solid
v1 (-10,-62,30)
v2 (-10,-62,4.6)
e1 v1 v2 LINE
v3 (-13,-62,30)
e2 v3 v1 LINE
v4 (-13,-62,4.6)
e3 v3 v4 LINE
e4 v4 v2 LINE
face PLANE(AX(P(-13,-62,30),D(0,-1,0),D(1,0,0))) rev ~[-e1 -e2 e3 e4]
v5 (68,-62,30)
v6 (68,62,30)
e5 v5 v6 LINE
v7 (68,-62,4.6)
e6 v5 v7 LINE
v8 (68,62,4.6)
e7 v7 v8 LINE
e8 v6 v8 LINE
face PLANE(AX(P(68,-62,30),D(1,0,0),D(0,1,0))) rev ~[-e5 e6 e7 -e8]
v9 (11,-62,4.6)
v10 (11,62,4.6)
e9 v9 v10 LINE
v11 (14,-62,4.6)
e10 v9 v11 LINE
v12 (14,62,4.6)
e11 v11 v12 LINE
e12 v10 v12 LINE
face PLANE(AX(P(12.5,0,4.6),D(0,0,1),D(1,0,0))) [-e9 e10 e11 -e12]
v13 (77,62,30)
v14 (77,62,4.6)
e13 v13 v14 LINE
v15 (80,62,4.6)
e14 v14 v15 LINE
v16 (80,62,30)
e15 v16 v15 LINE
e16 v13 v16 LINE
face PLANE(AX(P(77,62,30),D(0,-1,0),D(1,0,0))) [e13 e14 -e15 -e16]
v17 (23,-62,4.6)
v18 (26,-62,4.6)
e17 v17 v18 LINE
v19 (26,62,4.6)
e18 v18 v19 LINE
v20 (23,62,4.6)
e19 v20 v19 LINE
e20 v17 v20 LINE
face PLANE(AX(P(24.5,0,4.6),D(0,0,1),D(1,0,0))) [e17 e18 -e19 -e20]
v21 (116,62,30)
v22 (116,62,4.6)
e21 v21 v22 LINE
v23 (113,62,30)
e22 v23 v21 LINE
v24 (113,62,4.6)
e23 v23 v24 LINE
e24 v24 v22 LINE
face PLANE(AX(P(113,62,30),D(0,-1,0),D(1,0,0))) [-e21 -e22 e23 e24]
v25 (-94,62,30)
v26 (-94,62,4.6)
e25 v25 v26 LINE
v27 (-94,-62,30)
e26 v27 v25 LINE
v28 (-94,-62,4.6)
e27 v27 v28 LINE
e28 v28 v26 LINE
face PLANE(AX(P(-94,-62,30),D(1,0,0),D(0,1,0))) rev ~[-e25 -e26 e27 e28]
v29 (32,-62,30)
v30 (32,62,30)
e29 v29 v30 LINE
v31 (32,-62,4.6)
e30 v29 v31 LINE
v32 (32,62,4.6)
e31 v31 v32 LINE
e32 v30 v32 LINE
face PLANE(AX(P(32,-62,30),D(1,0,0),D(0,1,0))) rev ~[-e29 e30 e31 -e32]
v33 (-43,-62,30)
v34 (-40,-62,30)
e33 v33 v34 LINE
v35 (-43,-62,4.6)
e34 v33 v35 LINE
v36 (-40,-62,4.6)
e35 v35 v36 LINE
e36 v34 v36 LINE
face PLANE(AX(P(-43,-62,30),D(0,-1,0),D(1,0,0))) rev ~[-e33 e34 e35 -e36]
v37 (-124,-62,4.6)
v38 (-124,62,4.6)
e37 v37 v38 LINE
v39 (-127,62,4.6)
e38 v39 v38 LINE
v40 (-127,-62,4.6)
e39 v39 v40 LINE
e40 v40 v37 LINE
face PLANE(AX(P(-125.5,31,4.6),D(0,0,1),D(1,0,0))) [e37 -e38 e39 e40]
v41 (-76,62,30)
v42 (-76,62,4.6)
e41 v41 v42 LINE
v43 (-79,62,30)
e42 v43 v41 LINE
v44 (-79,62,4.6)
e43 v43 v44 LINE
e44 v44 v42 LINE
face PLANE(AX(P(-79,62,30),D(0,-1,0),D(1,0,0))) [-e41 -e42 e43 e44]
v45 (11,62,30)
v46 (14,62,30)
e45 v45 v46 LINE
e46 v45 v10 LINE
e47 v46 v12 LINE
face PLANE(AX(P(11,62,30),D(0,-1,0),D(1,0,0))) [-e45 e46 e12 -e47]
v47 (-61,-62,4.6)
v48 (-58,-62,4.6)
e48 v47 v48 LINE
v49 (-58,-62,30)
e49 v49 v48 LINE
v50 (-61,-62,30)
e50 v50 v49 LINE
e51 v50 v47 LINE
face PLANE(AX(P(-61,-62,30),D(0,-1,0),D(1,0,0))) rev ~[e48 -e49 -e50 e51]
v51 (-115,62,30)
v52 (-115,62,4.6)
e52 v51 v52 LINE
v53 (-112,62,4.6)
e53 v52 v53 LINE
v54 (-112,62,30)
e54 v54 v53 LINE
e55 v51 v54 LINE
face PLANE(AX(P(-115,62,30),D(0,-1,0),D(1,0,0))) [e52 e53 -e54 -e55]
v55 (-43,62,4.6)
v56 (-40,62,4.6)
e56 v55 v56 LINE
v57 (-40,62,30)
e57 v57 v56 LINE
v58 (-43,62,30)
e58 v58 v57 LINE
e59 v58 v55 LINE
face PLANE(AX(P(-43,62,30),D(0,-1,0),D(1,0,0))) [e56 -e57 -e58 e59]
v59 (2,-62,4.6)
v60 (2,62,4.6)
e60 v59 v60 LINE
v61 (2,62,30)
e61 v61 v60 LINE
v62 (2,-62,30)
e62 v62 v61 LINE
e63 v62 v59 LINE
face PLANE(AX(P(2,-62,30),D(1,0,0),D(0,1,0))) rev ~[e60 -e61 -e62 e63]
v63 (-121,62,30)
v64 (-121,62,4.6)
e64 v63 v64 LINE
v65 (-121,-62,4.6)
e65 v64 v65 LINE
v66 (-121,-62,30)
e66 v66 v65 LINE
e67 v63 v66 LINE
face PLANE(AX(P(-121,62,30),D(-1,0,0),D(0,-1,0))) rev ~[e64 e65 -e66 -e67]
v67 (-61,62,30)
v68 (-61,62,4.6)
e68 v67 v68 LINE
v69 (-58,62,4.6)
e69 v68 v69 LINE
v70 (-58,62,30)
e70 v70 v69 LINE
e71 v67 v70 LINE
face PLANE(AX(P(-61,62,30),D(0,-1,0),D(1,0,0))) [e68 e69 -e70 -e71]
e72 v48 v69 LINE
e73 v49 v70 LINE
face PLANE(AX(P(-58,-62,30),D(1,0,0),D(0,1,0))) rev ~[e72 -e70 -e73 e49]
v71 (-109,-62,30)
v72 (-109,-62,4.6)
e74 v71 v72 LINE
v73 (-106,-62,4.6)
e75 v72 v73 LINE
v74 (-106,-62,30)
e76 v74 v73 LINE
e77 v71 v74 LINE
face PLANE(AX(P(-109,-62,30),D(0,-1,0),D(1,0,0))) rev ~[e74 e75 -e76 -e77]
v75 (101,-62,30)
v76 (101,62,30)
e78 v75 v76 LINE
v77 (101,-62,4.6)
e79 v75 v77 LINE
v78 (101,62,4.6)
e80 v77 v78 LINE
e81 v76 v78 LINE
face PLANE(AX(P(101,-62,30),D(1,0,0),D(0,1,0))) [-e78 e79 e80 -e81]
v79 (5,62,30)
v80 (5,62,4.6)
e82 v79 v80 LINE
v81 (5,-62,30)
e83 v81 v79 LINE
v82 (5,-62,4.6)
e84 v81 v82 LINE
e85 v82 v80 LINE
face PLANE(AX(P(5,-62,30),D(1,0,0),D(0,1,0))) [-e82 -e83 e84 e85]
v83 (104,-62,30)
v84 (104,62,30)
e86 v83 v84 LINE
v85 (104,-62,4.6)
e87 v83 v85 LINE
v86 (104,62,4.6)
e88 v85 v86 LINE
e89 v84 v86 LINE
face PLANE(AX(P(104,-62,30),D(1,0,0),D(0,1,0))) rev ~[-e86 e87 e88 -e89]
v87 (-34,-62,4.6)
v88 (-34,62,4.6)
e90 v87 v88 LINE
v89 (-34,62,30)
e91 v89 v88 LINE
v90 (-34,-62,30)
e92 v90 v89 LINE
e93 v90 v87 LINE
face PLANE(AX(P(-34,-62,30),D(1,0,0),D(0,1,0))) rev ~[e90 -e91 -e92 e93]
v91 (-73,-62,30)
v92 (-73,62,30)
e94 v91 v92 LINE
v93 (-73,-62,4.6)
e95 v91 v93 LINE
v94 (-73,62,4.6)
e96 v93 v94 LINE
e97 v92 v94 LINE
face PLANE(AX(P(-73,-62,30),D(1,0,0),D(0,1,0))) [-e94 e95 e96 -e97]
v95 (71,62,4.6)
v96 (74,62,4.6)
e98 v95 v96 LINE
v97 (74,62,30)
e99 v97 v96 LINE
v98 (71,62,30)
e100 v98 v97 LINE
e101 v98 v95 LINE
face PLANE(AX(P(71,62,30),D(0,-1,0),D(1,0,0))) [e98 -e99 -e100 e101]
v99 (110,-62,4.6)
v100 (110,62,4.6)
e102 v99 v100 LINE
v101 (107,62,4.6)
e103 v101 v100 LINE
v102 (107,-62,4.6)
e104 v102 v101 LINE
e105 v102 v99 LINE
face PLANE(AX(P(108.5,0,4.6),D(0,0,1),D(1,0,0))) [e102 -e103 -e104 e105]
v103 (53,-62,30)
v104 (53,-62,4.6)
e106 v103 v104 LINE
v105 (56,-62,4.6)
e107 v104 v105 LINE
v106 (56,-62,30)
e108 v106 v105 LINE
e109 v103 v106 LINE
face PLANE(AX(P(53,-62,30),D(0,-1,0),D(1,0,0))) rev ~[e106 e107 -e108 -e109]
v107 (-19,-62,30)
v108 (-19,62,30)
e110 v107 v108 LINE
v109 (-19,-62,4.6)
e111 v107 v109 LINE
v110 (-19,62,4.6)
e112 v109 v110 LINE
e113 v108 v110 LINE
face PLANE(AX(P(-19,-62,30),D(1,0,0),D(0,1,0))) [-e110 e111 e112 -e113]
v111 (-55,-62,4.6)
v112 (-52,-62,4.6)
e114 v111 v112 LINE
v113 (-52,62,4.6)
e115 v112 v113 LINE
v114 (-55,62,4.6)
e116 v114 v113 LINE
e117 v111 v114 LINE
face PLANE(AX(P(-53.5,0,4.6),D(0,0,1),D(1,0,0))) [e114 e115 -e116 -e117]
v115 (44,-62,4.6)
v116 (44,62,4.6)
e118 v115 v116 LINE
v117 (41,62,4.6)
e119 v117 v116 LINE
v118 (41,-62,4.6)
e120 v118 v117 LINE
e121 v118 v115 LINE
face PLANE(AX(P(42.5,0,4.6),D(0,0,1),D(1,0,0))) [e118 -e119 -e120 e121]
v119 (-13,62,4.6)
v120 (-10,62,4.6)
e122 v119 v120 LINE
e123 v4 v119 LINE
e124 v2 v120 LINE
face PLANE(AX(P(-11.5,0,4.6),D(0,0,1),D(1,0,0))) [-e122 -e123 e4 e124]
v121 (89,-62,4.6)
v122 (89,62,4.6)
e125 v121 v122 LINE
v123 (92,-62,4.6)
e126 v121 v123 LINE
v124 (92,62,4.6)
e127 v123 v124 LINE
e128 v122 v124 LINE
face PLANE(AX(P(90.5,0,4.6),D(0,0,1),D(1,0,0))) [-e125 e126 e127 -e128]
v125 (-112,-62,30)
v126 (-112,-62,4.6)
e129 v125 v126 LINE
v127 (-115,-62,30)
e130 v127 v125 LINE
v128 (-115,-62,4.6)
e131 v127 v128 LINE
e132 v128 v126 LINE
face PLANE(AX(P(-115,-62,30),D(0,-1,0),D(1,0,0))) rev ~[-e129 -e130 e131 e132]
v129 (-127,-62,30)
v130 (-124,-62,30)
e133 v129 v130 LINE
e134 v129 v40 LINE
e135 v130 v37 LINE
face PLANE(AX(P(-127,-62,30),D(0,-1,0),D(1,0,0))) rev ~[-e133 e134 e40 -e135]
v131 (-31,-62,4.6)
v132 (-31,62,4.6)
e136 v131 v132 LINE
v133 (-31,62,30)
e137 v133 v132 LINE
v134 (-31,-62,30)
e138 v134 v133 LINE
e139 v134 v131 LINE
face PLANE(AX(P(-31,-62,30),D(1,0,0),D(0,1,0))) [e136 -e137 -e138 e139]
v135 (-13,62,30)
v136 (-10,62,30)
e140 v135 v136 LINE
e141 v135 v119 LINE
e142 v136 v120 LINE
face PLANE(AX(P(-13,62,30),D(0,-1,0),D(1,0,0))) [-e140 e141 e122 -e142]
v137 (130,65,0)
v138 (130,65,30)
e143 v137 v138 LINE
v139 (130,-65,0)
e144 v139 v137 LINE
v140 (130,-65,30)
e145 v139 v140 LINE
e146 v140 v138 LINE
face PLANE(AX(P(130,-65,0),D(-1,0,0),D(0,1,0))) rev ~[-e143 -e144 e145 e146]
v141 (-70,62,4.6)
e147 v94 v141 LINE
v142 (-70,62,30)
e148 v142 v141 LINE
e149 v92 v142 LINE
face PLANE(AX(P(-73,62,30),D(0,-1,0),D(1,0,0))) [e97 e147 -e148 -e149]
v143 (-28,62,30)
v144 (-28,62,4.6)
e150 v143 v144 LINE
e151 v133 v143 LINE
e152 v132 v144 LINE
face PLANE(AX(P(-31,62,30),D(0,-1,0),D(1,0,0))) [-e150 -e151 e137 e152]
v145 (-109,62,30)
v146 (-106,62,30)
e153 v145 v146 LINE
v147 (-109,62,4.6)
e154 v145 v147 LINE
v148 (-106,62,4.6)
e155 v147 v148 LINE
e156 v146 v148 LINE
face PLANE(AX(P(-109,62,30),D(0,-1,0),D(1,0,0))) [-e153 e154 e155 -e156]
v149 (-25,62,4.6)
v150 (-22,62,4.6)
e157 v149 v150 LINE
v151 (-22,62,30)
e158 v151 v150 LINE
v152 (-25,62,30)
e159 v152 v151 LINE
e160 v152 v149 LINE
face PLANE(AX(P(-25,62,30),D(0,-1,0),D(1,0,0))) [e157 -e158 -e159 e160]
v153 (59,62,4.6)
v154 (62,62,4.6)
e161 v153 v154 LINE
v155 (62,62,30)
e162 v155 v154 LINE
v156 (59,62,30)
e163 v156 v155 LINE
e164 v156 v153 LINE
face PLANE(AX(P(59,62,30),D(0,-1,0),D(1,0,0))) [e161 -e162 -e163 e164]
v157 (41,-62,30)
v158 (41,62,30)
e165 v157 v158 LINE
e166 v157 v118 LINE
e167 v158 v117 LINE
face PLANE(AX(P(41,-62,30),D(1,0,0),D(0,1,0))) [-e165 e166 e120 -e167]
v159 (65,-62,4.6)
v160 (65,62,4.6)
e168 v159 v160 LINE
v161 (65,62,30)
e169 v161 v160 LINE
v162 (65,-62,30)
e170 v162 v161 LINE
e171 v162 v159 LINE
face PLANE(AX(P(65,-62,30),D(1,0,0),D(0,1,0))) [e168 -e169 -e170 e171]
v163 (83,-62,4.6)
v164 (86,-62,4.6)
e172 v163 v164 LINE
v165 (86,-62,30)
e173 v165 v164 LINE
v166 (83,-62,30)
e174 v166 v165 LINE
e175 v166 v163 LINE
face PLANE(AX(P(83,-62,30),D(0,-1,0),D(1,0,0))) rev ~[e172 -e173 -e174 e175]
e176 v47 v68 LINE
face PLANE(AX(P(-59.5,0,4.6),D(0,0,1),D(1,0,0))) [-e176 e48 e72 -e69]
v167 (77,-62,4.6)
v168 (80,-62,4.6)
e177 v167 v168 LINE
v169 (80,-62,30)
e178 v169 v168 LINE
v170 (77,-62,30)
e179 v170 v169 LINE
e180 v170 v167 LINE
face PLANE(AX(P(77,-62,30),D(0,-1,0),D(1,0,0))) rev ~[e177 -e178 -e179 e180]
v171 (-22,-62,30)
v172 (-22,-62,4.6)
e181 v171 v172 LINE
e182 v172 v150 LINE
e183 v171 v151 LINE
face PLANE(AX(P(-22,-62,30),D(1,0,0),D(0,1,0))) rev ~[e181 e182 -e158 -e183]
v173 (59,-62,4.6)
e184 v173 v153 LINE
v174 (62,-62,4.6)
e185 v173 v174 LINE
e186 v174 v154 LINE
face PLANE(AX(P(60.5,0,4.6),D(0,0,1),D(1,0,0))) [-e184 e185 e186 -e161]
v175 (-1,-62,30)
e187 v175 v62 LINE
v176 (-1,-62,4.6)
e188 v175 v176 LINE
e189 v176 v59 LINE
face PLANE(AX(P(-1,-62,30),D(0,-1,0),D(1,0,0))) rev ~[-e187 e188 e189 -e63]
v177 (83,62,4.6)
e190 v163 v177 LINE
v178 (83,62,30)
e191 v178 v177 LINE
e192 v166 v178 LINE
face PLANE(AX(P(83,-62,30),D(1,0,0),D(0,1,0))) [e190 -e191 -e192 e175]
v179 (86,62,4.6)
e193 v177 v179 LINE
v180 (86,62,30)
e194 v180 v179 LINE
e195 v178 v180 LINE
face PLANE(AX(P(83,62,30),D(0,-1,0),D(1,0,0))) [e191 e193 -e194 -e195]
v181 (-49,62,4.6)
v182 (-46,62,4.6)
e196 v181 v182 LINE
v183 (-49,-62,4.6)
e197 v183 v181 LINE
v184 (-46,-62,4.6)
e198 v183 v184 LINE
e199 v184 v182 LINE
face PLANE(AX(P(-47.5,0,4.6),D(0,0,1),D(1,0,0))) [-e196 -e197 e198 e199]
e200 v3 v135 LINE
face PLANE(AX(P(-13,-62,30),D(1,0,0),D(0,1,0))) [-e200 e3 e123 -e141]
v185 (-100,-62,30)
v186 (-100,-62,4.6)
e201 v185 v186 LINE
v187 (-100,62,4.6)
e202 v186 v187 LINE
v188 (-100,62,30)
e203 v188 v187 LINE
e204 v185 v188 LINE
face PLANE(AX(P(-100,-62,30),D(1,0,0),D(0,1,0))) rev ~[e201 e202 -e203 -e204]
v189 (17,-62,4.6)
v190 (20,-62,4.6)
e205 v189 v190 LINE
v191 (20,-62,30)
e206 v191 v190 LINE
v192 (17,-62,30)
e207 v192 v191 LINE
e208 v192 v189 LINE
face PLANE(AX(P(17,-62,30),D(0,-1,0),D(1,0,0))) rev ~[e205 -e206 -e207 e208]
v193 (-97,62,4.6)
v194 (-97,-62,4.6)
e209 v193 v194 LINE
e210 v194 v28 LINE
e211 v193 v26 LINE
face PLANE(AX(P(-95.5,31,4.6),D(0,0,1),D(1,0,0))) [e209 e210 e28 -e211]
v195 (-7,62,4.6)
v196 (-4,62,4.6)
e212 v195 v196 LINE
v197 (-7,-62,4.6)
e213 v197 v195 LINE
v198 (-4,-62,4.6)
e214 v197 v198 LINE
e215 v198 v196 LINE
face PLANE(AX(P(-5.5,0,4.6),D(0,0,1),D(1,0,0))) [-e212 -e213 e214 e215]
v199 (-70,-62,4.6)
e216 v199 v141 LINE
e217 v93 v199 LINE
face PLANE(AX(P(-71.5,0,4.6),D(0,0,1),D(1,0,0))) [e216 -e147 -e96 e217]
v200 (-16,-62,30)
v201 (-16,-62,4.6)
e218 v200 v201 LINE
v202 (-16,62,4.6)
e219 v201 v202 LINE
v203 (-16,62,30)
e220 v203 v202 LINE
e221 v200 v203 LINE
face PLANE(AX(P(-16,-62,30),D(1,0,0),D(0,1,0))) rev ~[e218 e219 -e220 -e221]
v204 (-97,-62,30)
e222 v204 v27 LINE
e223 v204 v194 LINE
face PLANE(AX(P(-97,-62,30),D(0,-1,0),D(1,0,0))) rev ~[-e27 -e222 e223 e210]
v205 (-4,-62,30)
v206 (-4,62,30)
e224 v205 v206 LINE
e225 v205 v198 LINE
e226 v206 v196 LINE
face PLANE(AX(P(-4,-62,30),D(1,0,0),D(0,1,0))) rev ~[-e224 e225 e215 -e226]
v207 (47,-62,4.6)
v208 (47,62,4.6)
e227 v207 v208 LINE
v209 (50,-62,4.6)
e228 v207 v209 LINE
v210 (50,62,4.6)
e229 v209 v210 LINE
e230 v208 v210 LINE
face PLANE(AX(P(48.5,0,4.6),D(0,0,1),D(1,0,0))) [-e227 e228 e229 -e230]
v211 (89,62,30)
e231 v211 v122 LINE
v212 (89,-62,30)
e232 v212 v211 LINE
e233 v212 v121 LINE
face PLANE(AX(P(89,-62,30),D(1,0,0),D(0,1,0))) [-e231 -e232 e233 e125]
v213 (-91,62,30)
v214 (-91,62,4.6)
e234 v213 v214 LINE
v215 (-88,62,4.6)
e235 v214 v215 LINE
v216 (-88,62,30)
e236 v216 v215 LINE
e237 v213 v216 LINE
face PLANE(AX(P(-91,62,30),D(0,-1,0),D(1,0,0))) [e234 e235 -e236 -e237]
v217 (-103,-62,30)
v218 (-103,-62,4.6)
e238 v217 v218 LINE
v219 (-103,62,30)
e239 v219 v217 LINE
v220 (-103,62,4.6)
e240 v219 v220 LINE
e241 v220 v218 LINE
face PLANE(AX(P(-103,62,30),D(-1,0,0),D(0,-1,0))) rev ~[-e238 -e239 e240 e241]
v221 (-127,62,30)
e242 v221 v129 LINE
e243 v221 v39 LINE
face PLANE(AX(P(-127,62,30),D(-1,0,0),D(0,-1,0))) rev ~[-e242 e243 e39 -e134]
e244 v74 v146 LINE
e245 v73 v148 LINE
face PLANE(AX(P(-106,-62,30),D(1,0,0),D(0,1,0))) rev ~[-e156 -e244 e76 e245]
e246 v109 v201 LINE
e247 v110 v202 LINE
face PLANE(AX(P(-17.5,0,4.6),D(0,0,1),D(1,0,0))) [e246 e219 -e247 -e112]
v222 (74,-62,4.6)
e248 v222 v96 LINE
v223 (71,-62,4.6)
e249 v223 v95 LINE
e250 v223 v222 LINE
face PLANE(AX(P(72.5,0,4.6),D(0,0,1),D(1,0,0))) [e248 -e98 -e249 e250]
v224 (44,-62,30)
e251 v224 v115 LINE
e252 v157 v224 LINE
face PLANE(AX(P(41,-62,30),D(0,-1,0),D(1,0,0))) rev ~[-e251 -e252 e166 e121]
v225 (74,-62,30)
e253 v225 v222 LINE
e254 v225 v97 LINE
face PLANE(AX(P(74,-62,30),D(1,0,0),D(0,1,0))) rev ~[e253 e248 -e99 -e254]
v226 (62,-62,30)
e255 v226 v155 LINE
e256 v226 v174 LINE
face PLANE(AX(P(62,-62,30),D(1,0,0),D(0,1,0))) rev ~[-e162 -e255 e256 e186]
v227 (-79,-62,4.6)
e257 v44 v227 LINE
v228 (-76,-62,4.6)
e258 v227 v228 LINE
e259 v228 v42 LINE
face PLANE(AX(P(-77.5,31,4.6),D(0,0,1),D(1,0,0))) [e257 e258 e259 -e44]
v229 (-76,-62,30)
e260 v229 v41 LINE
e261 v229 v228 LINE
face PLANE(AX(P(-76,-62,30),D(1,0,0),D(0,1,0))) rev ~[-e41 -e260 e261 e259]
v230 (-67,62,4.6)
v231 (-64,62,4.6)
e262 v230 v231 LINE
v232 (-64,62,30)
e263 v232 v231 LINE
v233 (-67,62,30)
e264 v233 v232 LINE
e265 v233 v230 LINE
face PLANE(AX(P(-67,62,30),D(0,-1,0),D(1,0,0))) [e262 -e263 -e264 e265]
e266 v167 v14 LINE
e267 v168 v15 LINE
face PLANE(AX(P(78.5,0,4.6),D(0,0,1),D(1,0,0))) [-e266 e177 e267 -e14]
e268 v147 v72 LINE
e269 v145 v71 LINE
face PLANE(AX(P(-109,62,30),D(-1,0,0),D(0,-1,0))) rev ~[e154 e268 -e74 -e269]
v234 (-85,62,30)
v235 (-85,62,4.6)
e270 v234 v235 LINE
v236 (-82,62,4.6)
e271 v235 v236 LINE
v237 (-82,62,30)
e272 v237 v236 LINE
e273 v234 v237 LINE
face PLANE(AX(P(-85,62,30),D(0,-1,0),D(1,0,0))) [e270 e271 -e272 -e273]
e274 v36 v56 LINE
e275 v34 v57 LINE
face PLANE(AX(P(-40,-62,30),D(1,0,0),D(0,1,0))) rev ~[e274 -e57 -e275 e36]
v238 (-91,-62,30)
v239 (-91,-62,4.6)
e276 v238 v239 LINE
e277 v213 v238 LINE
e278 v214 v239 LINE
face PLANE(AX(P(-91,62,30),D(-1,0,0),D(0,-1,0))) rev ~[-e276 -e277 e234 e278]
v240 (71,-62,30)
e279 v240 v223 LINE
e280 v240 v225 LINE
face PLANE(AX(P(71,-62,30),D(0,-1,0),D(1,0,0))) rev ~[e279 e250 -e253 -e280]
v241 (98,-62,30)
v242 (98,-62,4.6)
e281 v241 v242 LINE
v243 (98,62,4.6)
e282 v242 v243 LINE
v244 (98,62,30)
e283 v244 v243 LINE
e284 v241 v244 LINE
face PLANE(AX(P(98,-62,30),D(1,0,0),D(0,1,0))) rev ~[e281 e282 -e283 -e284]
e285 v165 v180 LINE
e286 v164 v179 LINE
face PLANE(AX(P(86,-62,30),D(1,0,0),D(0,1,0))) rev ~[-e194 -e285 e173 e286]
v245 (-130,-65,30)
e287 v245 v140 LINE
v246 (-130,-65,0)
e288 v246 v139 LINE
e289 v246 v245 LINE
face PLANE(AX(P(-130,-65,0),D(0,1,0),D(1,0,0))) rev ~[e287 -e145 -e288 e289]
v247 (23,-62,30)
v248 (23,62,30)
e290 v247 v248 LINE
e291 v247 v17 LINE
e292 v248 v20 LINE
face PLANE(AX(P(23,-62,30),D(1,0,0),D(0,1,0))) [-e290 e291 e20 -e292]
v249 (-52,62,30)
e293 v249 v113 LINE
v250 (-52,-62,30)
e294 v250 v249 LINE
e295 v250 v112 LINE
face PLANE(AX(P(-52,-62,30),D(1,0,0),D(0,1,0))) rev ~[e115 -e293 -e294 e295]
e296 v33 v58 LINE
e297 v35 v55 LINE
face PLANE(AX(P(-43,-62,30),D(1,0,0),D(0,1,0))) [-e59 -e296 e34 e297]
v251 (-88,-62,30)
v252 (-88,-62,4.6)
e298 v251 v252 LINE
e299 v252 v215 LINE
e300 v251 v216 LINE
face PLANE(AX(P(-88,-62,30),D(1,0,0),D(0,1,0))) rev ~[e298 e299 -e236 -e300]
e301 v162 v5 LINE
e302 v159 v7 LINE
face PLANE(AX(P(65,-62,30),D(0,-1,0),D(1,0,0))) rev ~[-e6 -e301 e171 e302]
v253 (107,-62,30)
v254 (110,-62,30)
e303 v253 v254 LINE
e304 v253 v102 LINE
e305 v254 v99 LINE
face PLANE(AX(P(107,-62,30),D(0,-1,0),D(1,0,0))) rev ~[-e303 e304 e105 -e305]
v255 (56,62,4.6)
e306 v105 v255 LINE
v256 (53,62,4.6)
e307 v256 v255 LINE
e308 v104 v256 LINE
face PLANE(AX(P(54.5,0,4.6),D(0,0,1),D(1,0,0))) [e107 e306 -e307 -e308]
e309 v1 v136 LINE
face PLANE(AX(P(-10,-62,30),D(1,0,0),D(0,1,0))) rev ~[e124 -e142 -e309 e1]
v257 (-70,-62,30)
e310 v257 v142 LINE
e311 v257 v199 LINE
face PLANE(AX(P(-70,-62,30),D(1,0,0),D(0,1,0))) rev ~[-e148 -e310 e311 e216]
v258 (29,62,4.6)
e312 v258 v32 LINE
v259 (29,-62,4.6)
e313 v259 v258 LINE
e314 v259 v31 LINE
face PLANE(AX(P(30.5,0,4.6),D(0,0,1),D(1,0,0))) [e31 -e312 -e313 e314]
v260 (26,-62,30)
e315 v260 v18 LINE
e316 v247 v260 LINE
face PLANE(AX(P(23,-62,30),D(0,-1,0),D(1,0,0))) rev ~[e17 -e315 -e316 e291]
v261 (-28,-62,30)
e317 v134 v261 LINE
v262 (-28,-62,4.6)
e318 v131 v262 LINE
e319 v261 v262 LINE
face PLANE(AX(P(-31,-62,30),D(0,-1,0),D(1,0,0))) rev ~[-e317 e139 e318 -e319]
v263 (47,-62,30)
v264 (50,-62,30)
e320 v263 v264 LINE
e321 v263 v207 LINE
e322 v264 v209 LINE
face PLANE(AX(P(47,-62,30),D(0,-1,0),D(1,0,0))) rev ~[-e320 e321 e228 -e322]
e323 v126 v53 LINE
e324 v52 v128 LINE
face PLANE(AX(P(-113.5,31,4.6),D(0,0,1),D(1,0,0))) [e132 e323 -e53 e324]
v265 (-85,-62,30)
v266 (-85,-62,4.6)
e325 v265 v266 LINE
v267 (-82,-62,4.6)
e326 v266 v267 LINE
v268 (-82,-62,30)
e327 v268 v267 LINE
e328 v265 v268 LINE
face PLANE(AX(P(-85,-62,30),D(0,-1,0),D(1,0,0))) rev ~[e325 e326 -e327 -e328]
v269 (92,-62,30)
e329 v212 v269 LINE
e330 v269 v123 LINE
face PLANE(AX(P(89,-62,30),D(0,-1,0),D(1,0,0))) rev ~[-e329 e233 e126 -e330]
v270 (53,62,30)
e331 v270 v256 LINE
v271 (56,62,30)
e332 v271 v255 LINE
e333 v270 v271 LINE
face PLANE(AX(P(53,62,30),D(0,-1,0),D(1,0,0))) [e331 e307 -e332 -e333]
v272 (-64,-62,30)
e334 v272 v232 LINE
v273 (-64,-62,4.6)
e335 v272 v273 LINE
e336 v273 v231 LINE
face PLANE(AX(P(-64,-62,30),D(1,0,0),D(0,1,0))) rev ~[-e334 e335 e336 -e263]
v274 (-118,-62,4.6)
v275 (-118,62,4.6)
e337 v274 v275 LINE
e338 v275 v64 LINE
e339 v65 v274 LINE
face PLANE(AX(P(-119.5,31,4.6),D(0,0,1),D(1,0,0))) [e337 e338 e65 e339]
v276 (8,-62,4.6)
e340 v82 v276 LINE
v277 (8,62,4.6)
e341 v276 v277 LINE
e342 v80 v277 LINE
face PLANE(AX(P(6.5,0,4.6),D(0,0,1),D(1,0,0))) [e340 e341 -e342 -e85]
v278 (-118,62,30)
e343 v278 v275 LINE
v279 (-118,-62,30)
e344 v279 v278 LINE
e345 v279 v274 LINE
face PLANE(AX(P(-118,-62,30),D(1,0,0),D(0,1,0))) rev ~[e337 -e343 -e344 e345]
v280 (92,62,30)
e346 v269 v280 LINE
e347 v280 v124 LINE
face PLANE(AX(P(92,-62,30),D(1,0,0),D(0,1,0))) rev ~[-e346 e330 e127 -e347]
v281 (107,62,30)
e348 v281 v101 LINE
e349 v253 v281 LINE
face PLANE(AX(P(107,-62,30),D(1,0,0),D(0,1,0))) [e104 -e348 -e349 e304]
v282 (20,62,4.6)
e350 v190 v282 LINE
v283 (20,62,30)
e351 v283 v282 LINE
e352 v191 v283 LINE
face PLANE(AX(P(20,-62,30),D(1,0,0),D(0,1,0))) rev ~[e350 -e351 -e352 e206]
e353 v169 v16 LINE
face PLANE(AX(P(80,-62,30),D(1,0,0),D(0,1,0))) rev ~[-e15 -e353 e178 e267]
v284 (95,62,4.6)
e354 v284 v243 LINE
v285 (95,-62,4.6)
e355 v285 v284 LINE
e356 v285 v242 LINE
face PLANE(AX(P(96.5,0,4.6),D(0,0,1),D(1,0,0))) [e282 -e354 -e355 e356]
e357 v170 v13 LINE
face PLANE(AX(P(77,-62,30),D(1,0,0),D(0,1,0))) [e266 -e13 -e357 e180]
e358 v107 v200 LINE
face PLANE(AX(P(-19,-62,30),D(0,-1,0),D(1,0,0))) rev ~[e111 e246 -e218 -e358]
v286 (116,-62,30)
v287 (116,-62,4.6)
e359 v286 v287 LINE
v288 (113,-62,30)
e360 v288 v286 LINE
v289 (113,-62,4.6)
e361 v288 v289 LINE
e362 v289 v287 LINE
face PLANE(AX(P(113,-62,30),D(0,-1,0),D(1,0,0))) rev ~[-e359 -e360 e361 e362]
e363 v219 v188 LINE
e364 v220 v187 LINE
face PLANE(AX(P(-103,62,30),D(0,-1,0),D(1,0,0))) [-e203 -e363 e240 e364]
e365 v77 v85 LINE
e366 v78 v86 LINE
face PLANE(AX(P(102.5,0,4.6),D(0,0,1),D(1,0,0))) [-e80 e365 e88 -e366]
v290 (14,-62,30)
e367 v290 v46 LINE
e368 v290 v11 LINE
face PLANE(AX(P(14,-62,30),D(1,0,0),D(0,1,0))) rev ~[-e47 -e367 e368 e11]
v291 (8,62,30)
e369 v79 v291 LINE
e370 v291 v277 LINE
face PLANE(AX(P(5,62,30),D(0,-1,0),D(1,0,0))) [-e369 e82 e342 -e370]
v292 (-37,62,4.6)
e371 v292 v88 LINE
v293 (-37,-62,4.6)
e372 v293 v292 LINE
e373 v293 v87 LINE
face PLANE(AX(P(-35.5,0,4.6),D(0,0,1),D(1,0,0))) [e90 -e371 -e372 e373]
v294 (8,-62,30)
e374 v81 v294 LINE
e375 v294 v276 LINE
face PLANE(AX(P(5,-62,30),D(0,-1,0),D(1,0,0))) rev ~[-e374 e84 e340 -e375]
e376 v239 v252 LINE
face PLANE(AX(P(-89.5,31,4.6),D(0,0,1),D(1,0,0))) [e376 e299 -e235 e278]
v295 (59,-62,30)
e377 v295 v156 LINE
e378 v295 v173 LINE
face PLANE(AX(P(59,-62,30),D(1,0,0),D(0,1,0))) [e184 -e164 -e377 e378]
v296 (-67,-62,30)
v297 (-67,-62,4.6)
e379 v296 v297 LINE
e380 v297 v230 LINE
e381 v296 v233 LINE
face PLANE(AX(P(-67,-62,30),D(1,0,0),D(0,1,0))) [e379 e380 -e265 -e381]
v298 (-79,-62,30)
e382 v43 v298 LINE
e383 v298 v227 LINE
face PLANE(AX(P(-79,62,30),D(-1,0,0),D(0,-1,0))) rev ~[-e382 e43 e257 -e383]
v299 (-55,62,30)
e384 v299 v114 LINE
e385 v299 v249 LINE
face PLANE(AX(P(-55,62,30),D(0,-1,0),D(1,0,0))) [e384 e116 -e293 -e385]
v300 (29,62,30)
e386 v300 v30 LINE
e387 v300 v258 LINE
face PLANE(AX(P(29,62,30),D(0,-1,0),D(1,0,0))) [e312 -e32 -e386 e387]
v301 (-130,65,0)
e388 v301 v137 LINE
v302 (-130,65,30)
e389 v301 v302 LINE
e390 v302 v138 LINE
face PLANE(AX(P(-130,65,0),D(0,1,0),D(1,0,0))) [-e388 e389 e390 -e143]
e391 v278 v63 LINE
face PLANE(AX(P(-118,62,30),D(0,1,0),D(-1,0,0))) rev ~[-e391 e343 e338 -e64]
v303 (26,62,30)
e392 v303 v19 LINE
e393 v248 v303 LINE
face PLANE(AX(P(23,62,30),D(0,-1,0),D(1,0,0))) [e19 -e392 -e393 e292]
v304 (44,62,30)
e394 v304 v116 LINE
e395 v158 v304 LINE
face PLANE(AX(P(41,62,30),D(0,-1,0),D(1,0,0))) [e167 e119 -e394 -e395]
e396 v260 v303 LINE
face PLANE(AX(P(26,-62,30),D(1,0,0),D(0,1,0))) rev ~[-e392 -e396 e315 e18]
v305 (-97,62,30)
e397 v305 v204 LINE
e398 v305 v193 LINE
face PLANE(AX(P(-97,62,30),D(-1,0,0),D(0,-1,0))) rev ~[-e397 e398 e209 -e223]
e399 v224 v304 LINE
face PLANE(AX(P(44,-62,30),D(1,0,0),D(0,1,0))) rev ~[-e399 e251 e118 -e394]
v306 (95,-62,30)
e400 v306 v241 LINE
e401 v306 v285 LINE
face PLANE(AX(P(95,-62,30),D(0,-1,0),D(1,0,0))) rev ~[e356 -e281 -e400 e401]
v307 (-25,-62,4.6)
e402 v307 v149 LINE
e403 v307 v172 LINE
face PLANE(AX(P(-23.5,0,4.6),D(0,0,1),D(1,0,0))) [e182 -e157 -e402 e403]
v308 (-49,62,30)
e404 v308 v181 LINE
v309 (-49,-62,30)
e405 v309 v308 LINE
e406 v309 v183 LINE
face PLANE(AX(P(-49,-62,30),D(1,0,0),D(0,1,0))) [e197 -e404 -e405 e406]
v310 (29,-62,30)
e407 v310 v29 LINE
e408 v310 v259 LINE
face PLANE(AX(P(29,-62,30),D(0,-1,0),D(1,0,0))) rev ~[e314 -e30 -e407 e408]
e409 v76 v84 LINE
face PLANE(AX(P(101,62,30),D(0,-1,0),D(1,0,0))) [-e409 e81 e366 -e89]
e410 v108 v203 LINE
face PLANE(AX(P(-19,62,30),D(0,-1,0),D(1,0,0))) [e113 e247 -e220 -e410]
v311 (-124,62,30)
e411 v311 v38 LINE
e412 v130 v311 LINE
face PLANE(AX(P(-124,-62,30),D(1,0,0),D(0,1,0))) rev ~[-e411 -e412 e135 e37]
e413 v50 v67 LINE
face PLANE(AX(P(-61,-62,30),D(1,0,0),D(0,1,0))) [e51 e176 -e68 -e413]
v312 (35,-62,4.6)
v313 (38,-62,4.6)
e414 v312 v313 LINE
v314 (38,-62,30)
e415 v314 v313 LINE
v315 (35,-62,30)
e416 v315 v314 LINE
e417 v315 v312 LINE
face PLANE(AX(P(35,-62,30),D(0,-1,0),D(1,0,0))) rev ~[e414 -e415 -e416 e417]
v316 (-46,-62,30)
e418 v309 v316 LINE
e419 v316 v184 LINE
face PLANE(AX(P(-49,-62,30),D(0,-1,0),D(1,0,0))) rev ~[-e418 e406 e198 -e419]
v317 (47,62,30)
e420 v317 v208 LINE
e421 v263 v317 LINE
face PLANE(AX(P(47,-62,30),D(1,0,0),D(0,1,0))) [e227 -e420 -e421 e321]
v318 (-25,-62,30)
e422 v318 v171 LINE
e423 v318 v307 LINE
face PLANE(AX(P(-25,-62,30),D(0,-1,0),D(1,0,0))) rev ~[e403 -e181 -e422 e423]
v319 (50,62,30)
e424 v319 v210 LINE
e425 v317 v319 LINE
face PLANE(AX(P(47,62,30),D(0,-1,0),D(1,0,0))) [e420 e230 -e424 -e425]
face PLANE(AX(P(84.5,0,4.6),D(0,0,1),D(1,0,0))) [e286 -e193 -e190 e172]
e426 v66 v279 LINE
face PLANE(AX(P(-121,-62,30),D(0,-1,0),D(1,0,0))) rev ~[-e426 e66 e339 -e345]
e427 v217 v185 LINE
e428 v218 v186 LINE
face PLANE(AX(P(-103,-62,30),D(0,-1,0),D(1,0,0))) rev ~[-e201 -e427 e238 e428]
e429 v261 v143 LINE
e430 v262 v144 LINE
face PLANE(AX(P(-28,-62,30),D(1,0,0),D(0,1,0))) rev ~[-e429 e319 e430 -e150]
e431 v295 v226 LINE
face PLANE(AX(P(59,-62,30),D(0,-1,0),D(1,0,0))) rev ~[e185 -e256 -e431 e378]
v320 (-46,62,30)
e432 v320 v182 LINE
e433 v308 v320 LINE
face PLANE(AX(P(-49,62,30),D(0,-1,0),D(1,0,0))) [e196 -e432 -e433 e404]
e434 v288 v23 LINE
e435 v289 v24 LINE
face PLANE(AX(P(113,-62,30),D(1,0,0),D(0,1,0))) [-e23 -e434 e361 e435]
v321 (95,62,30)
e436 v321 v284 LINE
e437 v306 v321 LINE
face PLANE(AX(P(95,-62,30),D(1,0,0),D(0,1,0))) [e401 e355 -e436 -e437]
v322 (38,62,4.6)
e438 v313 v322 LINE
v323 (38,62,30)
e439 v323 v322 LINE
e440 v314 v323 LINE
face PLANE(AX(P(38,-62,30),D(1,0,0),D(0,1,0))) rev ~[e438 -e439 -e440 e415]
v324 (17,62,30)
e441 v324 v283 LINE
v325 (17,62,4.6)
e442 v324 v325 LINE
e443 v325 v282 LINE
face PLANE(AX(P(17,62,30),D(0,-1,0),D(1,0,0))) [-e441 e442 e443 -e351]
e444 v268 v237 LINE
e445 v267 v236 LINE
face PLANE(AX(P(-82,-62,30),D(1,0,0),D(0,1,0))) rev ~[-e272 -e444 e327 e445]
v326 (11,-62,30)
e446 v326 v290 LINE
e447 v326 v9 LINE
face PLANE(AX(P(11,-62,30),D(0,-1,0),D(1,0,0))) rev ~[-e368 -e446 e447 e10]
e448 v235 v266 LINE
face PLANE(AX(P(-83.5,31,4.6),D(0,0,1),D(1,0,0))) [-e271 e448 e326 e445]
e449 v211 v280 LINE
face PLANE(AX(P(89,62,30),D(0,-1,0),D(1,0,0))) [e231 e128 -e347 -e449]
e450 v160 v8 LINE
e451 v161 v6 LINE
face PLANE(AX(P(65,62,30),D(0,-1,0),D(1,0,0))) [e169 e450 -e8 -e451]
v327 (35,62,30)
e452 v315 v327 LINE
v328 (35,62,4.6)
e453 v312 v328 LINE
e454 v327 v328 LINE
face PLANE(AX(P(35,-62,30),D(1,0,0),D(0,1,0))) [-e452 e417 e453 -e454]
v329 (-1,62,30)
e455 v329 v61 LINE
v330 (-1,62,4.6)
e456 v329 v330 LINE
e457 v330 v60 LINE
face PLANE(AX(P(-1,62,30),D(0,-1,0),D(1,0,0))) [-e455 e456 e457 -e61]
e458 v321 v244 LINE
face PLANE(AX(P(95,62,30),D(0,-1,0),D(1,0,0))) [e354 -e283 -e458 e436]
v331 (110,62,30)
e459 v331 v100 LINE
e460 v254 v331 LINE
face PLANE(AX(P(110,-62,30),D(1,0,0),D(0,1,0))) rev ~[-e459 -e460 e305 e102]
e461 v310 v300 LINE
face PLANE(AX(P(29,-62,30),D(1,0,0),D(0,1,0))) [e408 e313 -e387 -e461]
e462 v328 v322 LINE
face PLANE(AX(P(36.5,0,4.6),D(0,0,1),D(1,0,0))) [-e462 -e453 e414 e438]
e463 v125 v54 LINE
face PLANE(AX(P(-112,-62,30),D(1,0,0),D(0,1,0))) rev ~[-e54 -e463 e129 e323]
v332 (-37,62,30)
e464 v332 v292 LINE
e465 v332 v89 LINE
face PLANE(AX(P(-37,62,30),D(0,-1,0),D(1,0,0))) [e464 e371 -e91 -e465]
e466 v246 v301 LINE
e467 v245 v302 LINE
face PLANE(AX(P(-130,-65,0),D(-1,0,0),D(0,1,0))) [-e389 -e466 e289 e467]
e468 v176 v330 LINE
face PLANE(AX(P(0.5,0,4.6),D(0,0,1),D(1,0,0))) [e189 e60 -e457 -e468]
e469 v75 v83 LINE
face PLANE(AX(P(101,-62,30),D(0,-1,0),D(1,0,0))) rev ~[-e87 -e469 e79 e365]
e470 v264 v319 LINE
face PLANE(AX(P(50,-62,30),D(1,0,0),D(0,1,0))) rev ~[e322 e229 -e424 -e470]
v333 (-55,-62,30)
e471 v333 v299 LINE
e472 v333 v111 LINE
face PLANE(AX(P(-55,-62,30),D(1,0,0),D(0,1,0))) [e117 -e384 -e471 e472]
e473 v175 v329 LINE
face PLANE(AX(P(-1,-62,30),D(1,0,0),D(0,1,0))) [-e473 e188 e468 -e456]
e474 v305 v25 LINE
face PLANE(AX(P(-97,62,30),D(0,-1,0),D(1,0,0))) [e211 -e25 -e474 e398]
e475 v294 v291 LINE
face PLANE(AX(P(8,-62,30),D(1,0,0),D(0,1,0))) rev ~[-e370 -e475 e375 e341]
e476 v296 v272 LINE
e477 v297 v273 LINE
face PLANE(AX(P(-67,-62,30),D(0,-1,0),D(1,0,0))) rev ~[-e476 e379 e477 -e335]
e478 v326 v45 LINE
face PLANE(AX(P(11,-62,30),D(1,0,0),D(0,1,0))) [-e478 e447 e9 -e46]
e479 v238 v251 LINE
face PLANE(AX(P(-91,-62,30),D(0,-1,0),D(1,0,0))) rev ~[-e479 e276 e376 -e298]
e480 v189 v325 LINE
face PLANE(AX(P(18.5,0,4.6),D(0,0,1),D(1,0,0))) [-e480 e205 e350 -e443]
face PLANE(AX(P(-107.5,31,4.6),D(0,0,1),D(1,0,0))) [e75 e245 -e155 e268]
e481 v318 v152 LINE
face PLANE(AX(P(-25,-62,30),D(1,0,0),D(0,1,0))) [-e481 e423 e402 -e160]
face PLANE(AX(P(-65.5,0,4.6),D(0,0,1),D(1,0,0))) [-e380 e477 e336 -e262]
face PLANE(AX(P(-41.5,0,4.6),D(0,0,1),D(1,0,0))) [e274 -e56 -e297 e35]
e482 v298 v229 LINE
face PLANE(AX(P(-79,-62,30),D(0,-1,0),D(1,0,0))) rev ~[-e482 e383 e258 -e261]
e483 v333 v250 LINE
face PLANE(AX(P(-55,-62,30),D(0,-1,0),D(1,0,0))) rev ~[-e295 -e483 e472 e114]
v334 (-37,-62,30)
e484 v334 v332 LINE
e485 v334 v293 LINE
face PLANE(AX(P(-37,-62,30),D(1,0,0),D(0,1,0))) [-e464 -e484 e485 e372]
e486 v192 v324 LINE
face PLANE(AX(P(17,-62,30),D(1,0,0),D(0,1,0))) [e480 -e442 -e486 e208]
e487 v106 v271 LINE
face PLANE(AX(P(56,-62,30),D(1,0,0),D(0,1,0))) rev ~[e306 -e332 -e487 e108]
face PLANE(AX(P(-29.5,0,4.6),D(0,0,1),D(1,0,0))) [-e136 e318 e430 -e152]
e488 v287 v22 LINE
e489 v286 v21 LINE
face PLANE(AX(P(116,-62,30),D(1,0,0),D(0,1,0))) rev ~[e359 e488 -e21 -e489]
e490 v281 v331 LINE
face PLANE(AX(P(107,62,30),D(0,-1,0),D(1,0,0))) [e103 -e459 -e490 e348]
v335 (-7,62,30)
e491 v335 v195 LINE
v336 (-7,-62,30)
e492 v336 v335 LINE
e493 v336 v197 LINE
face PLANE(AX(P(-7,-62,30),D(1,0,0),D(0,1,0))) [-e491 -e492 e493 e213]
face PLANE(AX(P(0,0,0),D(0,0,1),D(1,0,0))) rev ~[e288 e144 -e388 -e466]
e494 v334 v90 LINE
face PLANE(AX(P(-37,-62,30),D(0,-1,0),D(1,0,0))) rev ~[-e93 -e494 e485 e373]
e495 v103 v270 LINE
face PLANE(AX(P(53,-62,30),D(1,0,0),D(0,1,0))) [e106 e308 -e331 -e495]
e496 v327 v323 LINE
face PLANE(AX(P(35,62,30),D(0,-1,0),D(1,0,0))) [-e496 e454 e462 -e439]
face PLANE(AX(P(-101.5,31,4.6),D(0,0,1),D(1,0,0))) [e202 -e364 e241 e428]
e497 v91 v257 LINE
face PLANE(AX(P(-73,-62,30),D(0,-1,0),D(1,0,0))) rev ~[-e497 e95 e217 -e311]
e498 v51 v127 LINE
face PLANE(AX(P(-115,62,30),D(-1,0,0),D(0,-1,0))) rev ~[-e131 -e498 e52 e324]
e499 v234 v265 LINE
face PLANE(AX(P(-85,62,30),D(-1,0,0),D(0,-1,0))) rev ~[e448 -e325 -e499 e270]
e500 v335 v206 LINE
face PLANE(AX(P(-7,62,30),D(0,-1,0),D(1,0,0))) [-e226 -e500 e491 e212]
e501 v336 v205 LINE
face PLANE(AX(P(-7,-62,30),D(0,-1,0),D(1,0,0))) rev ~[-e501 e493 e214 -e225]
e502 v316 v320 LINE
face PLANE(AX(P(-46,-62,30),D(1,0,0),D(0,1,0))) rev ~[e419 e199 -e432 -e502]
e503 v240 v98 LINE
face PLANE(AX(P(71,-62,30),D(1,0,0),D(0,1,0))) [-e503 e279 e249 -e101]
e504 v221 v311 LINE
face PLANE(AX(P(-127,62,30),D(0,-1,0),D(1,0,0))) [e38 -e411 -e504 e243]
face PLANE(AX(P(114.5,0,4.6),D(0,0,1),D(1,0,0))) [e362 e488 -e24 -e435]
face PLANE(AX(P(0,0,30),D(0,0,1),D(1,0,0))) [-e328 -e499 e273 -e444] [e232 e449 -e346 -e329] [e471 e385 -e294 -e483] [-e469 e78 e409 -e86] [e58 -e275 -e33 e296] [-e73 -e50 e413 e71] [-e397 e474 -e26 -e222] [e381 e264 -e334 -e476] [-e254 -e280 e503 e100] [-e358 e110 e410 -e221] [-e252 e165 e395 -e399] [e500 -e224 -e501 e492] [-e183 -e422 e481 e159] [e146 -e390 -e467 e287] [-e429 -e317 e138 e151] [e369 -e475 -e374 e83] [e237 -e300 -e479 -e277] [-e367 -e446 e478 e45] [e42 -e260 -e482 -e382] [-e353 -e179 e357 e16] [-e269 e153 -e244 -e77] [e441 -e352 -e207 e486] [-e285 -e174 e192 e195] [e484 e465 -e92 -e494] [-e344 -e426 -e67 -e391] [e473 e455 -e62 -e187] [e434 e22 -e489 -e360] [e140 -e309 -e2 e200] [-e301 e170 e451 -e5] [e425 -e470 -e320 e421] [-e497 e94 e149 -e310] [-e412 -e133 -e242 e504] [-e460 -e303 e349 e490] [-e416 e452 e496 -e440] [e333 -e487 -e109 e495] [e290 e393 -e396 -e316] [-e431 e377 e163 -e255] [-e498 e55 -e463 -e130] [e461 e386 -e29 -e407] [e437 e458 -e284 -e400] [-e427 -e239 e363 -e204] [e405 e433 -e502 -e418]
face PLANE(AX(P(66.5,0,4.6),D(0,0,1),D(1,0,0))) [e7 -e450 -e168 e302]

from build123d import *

# Parameters (mm, degrees)
F0_W     = 260
F0_H     = 130
F1_DEPTH = 30
F2_W     = 3
F2_H     = 62
F2_H_2   = 124
F3_DEPTH = 25.4


with BuildPart() as f1:
    # F0 (on Top) → F1 (new body)
    with BuildSketch(Plane.XY):
        Rectangle(F0_W, F0_H)
    extrude(amount=F1_DEPTH)

    # F2 (on face) → F3 (cut)
    with BuildSketch(Plane.XY.offset(30)):
        with Locations((-125.5, 31)):
            Rectangle(F2_W, F2_H)
        with Locations((-125.5, -31)):
            Rectangle(F2_W, F2_H)
        Polygon((-118, 62), (-121, 62), (-121, 4.026381), (-121, 0), (-118, 0), align=None)
        with Locations((-119.5, -31)):
            Rectangle(F2_W, F2_H)
        with Locations((-113.5, 31)):
            Rectangle(F2_W, F2_H)
        with Locations((-113.5, -31)):
            Rectangle(F2_W, F2_H)
        with Locations((-107.5, 31)):
            Rectangle(F2_W, F2_H)
        with Locations((-107.5, -31)):
            Rectangle(F2_W, F2_H)
        with Locations((-101.5, 31)):
            Rectangle(F2_W, F2_H)
        with Locations((-101.5, -31)):
            Rectangle(F2_W, F2_H)
        with Locations((-95.5, 31)):
            Rectangle(F2_W, F2_H)
        with Locations((-95.5, -31)):
            Rectangle(F2_W, F2_H)
        with Locations((-89.5, 31)):
            Rectangle(F2_W, F2_H)
        with Locations((-89.5, -31)):
            Rectangle(F2_W, F2_H)
        with Locations((-83.5, 31)):
            Rectangle(F2_W, F2_H)
        with Locations((-83.5, -31)):
            Rectangle(F2_W, F2_H)
        with Locations((-77.5, 31)):
            Rectangle(F2_W, F2_H)
        with Locations((-77.5, -31)):
            Rectangle(F2_W, F2_H)
        with Locations((-71.5, 0)):
            Rectangle(F2_W, F2_H_2)
        with Locations((-65.5, 0)):
            Rectangle(F2_W, F2_H_2)
        with Locations((-59.5, 0)):
            Rectangle(F2_W, F2_H_2)
        with Locations((-53.5, 0)):
            Rectangle(F2_W, F2_H_2)
        with Locations((-47.5, 0)):
            Rectangle(F2_W, F2_H_2)
        with Locations((-41.5, 0)):
            Rectangle(F2_W, F2_H_2)
        with Locations((-35.5, 0)):
            Rectangle(F2_W, F2_H_2)
        with Locations((-29.5, 0)):
            Rectangle(F2_W, F2_H_2)
        with Locations((-23.5, 0)):
            Rectangle(F2_W, F2_H_2)
        with Locations((-17.5, 0)):
            Rectangle(F2_W, F2_H_2)
        with Locations((-11.5, 0)):
            Rectangle(F2_W, F2_H_2)
        with Locations((-5.5, 0)):
            Rectangle(F2_W, F2_H_2)
        with Locations((0.5, 0)):
            Rectangle(F2_W, F2_H_2)
        with Locations((6.5, 0)):
            Rectangle(F2_W, F2_H_2)
        with Locations((12.5, 0)):
            Rectangle(F2_W, F2_H_2)
        with Locations((18.5, 0)):
            Rectangle(F2_W, F2_H_2)
        with Locations((24.5, 0)):
            Rectangle(F2_W, F2_H_2)
        with Locations((30.5, 0)):
            Rectangle(F2_W, F2_H_2)
        with Locations((36.5, 0)):
            Rectangle(F2_W, F2_H_2)
        with Locations((42.5, 0)):
            Rectangle(F2_W, F2_H_2)
        with Locations((48.5, 0)):
            Rectangle(F2_W, F2_H_2)
        with Locations((54.5, 0)):
            Rectangle(F2_W, F2_H_2)
        with Locations((60.5, 0)):
            Rectangle(F2_W, F2_H_2)
        with Locations((66.5, 0)):
            Rectangle(F2_W, F2_H_2)
        with Locations((72.5, 0)):
            Rectangle(F2_W, F2_H_2)
        with Locations((78.5, 0)):
            Rectangle(F2_W, F2_H_2)
        with Locations((84.5, 0)):
            Rectangle(F2_W, F2_H_2)
        with Locations((90.5, 0)):
            Rectangle(F2_W, F2_H_2)
        with Locations((96.5, 0)):
            Rectangle(F2_W, F2_H_2)
        with Locations((102.5, 0)):
            Rectangle(F2_W, F2_H_2)
        with Locations((108.5, 0)):
            Rectangle(F2_W, F2_H_2)
        with Locations((114.5, 0)):
            Rectangle(F2_W, F2_H_2)
    extrude(amount=-F3_DEPTH, mode=Mode.SUBTRACT)


solid = f1.part
